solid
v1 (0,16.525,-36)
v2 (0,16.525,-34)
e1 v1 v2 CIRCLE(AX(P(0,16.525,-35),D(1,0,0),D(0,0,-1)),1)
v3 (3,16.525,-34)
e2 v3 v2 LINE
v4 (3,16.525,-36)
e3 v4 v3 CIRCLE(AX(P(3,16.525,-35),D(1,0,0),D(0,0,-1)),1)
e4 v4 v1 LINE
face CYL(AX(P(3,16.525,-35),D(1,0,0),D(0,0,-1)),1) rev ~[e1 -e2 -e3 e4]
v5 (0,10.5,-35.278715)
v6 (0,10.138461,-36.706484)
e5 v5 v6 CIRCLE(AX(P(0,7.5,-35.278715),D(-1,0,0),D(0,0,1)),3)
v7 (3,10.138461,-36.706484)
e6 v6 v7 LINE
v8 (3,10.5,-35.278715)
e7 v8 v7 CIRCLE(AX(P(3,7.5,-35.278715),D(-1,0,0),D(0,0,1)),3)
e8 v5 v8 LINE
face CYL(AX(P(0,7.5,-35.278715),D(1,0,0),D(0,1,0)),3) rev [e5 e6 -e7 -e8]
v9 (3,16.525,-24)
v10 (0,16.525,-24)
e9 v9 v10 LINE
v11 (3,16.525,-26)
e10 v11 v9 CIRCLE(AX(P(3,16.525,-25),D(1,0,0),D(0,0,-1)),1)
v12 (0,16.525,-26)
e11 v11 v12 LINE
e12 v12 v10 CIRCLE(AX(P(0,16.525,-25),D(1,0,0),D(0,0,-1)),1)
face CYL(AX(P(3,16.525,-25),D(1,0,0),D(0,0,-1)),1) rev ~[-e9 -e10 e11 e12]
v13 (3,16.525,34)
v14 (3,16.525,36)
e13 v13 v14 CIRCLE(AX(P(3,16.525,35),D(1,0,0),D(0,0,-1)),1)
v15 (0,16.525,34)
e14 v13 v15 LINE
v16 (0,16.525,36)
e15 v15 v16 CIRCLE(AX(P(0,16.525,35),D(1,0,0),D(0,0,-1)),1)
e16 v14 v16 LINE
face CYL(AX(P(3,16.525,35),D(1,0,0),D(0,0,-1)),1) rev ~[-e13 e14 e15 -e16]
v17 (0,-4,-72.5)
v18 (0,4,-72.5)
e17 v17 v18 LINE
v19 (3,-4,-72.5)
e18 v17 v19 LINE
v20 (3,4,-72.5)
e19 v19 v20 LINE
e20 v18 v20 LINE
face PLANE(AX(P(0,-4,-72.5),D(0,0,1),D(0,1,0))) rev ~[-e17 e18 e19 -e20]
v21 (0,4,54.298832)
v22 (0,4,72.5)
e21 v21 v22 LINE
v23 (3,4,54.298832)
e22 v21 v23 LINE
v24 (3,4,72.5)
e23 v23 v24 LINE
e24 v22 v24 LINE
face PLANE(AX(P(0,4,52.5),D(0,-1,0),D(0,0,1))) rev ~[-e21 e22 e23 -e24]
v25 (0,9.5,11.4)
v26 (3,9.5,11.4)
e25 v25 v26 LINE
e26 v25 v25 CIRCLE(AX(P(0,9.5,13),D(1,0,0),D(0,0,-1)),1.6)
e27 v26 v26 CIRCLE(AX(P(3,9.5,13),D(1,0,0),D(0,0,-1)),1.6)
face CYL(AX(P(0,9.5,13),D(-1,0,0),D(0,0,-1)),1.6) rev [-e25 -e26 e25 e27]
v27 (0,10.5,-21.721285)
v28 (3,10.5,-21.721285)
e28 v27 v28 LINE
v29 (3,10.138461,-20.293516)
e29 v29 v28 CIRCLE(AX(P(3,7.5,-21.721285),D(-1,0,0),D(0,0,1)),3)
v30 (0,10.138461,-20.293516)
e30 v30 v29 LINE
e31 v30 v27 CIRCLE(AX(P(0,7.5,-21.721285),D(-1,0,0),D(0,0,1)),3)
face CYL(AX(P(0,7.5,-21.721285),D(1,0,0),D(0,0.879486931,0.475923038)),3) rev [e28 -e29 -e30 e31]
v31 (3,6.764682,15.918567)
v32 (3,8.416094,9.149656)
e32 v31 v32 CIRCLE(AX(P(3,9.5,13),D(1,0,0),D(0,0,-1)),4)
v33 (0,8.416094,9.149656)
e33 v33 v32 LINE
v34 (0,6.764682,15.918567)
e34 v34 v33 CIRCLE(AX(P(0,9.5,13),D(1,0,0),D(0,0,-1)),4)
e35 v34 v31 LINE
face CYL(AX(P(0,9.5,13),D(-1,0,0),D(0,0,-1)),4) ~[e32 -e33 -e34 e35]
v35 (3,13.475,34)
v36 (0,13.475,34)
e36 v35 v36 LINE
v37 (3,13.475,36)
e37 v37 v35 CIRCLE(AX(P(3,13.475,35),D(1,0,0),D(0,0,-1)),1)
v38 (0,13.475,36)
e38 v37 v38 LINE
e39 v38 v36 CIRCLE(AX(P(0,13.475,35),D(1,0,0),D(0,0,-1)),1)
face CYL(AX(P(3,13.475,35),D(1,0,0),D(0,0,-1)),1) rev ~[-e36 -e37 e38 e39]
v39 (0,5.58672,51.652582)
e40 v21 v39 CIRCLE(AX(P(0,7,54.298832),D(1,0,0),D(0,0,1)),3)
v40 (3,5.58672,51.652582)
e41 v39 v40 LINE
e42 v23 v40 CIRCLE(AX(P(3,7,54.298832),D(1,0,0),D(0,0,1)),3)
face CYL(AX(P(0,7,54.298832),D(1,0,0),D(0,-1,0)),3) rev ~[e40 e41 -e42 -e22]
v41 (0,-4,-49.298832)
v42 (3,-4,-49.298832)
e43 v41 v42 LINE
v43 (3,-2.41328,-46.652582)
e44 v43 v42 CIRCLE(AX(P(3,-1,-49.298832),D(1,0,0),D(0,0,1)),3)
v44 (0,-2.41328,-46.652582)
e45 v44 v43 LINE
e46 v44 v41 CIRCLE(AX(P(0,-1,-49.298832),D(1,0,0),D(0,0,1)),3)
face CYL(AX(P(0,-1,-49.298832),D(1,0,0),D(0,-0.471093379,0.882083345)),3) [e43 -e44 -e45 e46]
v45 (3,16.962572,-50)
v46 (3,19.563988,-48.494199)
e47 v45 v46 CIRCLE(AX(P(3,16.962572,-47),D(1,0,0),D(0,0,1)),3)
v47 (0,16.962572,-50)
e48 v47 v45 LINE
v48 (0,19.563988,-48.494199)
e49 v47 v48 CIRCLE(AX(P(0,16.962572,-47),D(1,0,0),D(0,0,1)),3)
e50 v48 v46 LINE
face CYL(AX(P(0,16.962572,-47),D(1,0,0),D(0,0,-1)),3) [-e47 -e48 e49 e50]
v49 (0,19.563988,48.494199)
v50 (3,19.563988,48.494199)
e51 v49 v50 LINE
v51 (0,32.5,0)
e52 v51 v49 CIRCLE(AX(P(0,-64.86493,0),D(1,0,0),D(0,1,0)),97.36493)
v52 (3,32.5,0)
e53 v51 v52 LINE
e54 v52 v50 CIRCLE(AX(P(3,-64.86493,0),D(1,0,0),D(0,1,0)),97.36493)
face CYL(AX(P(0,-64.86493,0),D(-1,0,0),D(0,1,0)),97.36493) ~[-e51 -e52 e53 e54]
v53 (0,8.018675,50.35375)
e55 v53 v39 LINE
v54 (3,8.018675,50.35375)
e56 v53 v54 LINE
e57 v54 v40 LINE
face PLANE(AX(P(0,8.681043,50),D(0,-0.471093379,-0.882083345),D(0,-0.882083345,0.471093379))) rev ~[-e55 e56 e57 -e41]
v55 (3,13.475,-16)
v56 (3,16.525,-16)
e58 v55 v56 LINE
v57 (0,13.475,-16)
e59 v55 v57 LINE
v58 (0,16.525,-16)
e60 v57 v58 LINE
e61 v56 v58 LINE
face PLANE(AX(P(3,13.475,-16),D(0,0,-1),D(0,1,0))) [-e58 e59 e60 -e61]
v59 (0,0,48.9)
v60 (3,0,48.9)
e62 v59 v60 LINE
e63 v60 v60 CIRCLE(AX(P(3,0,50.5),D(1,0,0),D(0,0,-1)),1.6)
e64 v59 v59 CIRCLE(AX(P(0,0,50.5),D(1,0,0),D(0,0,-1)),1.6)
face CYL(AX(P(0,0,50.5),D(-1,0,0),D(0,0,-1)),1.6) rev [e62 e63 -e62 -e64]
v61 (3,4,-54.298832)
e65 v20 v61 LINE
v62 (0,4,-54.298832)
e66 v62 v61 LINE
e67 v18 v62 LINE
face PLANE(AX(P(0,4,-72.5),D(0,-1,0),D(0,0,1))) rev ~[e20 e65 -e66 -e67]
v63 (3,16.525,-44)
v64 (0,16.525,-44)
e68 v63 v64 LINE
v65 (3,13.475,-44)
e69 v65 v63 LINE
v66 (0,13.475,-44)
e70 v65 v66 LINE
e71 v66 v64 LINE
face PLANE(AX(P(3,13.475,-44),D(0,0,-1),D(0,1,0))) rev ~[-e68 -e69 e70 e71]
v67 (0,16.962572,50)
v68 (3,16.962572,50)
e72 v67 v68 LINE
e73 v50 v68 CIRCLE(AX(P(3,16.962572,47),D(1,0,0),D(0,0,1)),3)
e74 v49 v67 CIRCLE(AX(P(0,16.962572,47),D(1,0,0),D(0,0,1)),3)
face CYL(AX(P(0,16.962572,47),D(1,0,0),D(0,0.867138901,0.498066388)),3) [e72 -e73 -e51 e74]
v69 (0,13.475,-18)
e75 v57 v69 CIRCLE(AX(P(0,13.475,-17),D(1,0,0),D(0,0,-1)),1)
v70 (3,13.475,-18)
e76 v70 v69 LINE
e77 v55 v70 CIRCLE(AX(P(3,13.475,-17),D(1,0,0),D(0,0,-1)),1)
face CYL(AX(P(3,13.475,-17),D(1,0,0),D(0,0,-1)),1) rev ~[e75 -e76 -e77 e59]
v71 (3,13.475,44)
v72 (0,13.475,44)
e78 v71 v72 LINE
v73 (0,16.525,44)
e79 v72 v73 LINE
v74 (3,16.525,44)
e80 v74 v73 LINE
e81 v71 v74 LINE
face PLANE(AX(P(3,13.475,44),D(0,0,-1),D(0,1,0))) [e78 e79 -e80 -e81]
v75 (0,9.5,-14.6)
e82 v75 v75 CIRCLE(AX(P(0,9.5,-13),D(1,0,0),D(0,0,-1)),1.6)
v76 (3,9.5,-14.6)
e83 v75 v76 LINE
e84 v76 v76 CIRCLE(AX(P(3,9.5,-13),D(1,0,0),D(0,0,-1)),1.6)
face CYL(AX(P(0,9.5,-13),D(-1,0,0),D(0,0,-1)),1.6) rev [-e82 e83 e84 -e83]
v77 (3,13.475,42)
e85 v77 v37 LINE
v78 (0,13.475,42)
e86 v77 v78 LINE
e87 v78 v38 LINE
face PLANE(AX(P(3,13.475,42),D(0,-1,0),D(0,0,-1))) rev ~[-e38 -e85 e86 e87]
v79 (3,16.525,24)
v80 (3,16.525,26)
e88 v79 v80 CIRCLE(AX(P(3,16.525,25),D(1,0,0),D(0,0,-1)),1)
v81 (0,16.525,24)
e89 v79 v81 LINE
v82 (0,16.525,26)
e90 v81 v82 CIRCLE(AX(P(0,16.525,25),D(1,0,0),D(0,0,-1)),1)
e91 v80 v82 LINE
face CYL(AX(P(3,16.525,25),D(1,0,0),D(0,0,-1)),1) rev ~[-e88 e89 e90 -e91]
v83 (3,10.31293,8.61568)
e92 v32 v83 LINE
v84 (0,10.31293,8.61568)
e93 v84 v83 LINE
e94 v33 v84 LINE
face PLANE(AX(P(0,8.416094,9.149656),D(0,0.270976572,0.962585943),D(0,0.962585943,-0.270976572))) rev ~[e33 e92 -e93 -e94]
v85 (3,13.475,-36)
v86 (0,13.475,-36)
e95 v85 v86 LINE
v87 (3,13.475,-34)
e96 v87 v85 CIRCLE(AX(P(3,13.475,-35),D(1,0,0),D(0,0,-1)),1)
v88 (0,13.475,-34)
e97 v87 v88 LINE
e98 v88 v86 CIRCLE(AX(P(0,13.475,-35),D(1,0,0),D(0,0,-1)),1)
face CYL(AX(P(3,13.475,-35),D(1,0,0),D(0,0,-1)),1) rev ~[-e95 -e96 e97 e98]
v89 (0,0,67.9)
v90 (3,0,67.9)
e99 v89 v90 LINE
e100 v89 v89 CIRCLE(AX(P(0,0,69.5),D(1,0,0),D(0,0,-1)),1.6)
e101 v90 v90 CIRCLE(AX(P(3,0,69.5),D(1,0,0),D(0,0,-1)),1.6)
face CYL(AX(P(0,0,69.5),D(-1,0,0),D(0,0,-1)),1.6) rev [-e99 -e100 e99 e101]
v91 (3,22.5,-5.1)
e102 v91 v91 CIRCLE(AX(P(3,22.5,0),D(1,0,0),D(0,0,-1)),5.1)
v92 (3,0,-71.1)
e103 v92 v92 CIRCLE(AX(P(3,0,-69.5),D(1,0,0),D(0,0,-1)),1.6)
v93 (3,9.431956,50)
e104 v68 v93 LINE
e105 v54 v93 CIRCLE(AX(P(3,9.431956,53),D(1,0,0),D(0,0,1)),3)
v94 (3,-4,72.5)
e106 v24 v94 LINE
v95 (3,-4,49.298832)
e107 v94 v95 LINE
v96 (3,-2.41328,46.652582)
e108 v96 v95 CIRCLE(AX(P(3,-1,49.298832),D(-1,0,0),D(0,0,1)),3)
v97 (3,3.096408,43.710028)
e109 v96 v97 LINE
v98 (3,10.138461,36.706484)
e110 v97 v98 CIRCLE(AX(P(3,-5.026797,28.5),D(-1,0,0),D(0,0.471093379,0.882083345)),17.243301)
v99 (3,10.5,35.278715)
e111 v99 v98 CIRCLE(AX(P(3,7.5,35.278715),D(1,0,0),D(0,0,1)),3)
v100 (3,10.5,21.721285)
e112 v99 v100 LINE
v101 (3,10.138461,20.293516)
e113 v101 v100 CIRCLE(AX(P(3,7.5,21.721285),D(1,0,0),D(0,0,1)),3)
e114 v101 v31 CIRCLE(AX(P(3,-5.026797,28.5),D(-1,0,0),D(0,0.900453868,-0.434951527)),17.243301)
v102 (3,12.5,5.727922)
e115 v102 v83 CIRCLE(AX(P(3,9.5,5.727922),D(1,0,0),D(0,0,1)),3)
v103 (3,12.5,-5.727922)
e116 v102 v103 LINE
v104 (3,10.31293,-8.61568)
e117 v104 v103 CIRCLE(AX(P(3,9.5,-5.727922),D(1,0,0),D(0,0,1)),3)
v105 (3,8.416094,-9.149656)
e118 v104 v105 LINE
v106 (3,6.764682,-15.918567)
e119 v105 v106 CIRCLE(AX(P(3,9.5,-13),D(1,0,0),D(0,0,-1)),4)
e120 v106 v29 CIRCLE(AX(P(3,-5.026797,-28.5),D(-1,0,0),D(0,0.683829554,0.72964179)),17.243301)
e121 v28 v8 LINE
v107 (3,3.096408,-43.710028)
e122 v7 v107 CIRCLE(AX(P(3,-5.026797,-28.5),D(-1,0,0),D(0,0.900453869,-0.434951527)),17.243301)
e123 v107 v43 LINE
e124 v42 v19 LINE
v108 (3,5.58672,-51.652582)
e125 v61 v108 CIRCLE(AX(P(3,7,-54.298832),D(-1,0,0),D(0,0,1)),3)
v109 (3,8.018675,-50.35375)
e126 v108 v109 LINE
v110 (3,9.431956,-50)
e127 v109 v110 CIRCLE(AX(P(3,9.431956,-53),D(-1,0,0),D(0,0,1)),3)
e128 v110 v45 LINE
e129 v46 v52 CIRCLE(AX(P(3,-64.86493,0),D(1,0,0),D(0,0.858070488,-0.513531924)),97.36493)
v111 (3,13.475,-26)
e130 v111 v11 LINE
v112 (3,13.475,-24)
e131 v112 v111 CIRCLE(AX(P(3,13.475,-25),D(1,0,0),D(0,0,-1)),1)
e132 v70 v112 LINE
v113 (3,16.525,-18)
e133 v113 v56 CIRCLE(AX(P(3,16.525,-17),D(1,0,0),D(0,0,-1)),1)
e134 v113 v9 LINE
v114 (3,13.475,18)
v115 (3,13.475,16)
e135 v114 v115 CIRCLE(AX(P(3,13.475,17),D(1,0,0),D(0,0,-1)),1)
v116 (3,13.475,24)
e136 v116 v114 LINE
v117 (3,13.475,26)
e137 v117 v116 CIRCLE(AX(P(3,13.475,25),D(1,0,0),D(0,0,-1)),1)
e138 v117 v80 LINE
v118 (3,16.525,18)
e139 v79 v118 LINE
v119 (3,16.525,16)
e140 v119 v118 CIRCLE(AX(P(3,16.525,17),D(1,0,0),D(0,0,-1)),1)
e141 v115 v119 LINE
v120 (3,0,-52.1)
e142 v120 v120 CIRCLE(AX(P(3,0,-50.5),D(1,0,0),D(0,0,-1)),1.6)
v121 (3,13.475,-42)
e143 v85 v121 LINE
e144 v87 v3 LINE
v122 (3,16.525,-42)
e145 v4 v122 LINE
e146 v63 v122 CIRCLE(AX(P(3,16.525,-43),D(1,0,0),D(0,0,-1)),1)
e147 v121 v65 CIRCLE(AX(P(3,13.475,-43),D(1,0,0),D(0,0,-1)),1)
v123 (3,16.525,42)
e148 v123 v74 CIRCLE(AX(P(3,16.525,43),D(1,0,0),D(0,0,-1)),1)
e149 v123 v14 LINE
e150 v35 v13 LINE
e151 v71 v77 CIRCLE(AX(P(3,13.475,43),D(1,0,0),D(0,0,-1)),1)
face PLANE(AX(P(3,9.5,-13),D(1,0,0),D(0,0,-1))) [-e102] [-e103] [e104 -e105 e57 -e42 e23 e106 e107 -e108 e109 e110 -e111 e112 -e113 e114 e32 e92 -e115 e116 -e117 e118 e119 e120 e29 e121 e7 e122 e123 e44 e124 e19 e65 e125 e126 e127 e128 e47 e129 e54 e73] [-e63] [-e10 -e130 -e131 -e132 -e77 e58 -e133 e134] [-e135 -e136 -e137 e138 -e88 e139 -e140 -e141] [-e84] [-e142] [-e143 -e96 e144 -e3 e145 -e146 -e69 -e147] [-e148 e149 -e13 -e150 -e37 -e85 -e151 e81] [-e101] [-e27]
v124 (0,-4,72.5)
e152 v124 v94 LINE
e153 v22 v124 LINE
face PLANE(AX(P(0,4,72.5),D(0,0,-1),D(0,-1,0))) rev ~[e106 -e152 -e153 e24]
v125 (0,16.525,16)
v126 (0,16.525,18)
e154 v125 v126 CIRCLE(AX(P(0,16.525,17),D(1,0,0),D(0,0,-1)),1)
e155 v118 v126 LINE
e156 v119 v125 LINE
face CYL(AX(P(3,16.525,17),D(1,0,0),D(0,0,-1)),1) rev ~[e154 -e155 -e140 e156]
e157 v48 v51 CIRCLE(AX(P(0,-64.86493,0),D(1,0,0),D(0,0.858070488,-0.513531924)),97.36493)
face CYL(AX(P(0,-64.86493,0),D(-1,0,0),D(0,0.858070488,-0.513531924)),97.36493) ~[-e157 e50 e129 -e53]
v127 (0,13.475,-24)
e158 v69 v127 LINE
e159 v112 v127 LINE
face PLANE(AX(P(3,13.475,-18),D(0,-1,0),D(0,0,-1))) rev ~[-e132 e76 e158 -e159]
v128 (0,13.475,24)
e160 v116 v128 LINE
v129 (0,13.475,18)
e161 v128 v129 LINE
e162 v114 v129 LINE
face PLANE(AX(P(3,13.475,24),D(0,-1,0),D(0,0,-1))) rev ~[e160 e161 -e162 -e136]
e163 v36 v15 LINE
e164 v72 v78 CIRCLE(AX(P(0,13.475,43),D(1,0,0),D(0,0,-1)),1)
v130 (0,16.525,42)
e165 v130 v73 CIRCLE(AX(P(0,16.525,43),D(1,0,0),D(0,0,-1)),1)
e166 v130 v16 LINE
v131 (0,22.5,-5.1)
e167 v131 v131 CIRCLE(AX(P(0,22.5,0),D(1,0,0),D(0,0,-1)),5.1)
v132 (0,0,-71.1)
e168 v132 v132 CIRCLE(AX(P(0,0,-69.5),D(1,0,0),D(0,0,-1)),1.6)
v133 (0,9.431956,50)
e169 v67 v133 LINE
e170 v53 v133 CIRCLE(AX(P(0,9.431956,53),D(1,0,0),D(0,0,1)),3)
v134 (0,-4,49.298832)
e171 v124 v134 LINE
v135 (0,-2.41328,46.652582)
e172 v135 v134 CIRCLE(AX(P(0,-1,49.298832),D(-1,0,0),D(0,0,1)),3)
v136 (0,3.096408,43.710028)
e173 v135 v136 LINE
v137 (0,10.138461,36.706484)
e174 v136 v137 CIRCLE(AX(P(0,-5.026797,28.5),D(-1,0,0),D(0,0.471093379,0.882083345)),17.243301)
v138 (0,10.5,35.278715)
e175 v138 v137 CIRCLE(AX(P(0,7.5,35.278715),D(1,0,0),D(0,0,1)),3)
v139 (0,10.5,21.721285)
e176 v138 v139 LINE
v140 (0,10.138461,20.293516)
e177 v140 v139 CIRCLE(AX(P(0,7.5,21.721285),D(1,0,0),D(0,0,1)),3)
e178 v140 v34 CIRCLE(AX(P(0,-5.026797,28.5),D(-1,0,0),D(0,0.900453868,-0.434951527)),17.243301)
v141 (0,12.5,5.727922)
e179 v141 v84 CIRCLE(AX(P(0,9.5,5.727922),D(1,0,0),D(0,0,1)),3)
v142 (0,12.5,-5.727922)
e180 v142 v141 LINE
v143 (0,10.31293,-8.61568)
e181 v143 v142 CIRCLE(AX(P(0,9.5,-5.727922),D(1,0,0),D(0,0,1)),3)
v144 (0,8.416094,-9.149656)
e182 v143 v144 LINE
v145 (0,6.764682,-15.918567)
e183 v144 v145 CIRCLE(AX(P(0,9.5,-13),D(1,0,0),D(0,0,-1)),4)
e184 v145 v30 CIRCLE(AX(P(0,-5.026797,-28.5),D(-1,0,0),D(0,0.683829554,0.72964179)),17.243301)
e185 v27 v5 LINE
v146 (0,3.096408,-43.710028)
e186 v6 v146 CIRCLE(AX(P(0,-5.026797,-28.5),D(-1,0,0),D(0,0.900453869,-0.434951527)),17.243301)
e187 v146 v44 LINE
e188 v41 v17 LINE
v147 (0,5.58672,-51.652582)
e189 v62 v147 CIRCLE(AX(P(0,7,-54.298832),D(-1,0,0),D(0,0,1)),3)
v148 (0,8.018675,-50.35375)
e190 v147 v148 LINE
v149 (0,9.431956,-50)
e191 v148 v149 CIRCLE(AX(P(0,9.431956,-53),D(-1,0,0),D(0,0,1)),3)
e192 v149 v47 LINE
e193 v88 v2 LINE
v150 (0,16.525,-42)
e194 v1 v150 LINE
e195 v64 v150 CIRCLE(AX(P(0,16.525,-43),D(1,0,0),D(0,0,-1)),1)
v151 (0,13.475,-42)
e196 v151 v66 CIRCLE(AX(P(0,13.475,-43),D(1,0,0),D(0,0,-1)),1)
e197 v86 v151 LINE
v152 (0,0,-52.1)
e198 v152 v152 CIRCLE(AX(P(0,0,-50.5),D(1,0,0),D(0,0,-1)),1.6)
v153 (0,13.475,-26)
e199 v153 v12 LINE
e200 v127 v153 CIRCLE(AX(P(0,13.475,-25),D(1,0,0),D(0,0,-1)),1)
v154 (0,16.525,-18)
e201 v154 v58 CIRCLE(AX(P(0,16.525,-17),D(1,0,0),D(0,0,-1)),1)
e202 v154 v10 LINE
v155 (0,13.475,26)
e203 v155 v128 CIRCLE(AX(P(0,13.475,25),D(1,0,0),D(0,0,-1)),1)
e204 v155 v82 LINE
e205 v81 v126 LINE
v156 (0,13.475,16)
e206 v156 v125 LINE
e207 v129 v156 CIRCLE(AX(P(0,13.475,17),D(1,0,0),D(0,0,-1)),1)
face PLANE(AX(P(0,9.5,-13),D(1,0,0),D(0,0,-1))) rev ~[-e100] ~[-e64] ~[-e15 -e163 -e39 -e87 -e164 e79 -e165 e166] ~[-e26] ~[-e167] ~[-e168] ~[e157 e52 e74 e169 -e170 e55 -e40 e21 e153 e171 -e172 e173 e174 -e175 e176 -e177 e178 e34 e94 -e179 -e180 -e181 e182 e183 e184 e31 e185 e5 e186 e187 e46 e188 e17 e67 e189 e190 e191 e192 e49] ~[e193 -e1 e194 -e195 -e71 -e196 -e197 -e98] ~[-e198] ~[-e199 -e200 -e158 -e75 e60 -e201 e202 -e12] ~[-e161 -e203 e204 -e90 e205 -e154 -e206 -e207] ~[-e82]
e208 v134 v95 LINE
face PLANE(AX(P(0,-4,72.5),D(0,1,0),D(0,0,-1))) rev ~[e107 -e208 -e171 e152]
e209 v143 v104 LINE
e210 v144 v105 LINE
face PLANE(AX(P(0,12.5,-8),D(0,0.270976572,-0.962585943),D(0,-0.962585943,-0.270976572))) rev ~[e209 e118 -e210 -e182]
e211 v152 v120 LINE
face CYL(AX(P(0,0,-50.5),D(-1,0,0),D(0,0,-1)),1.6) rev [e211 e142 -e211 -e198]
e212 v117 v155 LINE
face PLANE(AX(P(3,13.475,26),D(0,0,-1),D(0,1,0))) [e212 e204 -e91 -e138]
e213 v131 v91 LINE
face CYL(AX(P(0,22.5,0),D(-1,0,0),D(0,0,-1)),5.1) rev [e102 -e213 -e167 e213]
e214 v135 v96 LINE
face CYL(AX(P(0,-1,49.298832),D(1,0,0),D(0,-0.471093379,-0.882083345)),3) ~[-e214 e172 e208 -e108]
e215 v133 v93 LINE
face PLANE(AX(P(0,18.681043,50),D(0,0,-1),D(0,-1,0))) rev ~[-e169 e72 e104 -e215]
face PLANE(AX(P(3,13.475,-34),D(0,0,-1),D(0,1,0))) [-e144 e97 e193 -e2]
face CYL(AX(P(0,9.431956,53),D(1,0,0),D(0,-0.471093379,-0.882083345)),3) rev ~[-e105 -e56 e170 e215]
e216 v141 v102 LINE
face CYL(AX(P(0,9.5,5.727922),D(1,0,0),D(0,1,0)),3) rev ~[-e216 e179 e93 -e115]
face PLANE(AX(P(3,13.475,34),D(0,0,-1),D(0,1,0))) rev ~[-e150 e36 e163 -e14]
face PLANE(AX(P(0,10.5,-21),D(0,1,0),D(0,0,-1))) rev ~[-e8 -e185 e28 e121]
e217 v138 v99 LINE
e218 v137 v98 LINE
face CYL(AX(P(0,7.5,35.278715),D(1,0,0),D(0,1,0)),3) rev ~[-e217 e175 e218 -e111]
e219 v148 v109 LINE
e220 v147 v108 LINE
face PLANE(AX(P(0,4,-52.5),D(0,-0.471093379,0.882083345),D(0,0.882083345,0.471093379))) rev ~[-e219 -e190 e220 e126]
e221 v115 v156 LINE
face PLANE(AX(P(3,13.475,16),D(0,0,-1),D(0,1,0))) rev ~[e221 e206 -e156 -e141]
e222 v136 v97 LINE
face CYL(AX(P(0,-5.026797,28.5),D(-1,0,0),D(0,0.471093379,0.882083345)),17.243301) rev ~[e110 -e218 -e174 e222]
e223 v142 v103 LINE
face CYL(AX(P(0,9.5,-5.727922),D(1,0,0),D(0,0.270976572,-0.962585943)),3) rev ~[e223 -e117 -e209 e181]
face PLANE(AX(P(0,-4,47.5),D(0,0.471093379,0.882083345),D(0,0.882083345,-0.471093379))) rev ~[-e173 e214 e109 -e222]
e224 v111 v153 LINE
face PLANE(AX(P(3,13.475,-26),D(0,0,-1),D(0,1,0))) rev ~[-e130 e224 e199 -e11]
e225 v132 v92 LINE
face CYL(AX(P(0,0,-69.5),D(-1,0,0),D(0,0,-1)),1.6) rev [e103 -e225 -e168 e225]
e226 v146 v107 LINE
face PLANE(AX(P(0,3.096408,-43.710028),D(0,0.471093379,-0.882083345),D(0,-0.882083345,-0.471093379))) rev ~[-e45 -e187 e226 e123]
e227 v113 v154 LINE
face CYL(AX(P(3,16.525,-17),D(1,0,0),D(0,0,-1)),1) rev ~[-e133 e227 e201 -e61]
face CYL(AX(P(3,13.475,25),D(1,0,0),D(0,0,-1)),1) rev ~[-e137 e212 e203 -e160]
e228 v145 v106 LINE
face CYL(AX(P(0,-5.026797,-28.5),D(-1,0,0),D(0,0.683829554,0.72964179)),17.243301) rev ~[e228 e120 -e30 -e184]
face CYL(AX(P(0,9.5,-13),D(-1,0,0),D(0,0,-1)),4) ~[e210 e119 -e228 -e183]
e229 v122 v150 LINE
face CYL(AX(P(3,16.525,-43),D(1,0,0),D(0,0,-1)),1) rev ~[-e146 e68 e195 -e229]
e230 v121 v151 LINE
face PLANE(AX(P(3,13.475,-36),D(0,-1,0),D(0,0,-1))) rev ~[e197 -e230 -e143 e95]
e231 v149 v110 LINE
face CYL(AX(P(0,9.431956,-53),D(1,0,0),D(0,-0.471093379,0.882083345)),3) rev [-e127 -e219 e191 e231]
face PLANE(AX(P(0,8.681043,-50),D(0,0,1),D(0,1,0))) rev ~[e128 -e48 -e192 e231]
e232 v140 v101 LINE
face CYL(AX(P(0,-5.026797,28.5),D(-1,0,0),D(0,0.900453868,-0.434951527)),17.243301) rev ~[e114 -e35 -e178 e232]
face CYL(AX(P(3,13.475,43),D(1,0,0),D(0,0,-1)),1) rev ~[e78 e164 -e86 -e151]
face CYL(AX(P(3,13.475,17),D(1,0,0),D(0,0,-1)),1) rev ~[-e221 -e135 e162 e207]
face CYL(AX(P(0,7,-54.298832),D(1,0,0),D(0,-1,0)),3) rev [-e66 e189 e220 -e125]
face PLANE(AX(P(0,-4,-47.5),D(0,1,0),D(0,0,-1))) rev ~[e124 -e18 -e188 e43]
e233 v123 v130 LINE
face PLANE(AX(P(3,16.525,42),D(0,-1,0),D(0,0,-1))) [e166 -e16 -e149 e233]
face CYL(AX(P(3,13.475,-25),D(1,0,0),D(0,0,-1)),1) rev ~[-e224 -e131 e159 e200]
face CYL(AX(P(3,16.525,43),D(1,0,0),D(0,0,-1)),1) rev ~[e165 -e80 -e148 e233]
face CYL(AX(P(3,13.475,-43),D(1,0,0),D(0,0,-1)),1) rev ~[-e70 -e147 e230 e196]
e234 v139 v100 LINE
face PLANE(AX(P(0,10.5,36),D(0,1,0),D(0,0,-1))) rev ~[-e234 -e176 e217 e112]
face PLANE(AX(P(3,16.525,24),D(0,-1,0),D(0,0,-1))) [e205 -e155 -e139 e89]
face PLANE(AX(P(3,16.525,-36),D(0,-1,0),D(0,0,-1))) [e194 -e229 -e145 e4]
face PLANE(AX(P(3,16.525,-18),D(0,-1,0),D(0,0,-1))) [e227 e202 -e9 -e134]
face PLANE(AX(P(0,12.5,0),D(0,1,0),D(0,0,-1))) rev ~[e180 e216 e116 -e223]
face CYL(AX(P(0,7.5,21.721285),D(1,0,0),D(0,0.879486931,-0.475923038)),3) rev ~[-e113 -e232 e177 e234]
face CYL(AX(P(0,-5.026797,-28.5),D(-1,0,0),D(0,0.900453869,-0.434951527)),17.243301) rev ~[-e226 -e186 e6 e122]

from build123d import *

# Parameters (mm, degrees)
SKETCH_2_R          = 1.6
SKETCH_2_R_2        = 10
SKETCH_2_R_3        = 5.1
SKETCH_2_R_4        = 4
EXTRUDE_1_DEPTH     = 3
SKETCH_3_R          = 1
SKETCH_3_W          = 10
SKETCH_3_H          = 3.05
CUT_EXTRUDE_1_DEPTH = 80.507861247
FILLET_1_R          = 3


with BuildPart() as part:
    # 草图2 → 凸台-拉伸1 (new body)
    # profile 1 of 5: a face of its own
    with BuildSketch(Plane(origin=(0, 0, 0), x_dir=(0, 0, -1), z_dir=(1, 0, 0))):
        with BuildLine():
            Line((-72.5, -4), (-47.5, -4))
            Line((-47.5, -4), (-43.710028433, 3.096407942))
            ThreePointArc((-43.710028433, 3.096407942), (-40.443183901, 7.410718134), (-36, 10.5))
            Line((-36, 10.5), (-21, 10.5))
            ThreePointArc((-21, 10.5), (-18.287060326, 8.866629069), (-15.918567159, 6.764681785))
            ThreePointArc((-15.918567159, 6.764681785), (-14.470668447, 13.219829878), (-9, 9.5))
            ThreePointArc((-9, 9.5), (-9.03759069, 8.952905441), (-9.149656228, 8.416093713))
            Line((-9.149656228, 8.416093713), (-8, 12.5))
            Line((-8, 12.5), (0, 12.5))
            ThreePointArc((0, 12.5), (-10, 22.500000014), (2.8e-08, 32.5))
            ThreePointArc((2.8e-08, 32.5), (-25.937249131, 28.981693295), (-50, 18.681042995))
            Line((-50, 18.681042995), (-50, 8.681042995))
            Line((-50, 8.681042995), (-52.5, 4))
            Line((-52.5, 4), (-72.5, 4))
            Line((-72.5, 4), (-72.5, -4))
        make_face()
        with Locations((-69.5, 0)):
            Circle(SKETCH_2_R, mode=Mode.SUBTRACT)
        with Locations((-50.5, 0)):
            Circle(SKETCH_2_R, mode=Mode.SUBTRACT)
    # profile 2 of 5: a face of its own
    with BuildSketch(Plane(origin=(0, 0, 0), x_dir=(0, 0, -1), z_dir=(1, 0, 0))):
        with BuildLine():
            ThreePointArc((50, 18.681042995), (25.937249158, 28.981693288), (2.8e-08, 32.5))
            ThreePointArc((2.8e-08, 32.5), (7.071067822, 29.571067802), (10, 22.5))
            ThreePointArc((10, 22.5), (7.071067812, 15.428932188), (0, 12.5))
            Line((0, 12.5), (8, 12.5))
            Line((8, 12.5), (9.149656228, 8.416093713))
            ThreePointArc((9.149656228, 8.416093713), (12.452905441, 13.46240931), (17, 9.5))
            ThreePointArc((17, 9.5), (16.719829878, 8.029331553), (15.918567159, 6.764681785))
            ThreePointArc((15.918567159, 6.764681785), (18.287060326, 8.866629069), (21, 10.5))
            Line((21, 10.5), (36, 10.5))
            ThreePointArc((36, 10.5), (40.443183901, 7.410718134), (43.710028433, 3.096407942))
            Line((43.710028433, 3.096407942), (47.5, -4))
            Line((47.5, -4), (72.5, -4))
            Line((72.5, -4), (72.5, 4))
            Line((72.5, 4), (52.5, 4))
            Line((52.5, 4), (50, 8.681042995))
            Line((50, 8.681042995), (50, 18.681042995))
        make_face()
        with Locations((50.5, 0)):
            Circle(SKETCH_2_R, mode=Mode.SUBTRACT)
        with Locations((69.5, 0)):
            Circle(SKETCH_2_R, mode=Mode.SUBTRACT)
    # profile 3 of 5: a face of its own
    with BuildSketch(Plane(origin=(0, 0, 0), x_dir=(0, 0, -1), z_dir=(1, 0, 0))):
        with Locations((0, 22.5)):
            Circle(SKETCH_2_R_2)
        with Locations((0, 22.5)):
            Circle(SKETCH_2_R_3, mode=Mode.SUBTRACT)
    # profile 4 of 5: a face of its own
    with BuildSketch(Plane(origin=(0, 0, 0), x_dir=(0, 0, -1), z_dir=(1, 0, 0))):
        with Locations((-13, 9.5)):
            Circle(SKETCH_2_R_4)
        with Locations((-13, 9.5)):
            Circle(SKETCH_2_R, mode=Mode.SUBTRACT)
    # profile 5 of 5: a face of its own
    with BuildSketch(Plane(origin=(0, 0, 0), x_dir=(0, 0, -1), z_dir=(1, 0, 0))):
        with Locations((13, 9.5)):
            Circle(SKETCH_2_R_4)
        with Locations((13, 9.5)):
            Circle(SKETCH_2_R, mode=Mode.SUBTRACT)
    extrude(amount=EXTRUDE_1_DEPTH)

    # 草图3 → 切除-拉伸1 (cut, through all)
    with BuildSketch(Plane(origin=(3, 0, 0), x_dir=(0, 0, -1), z_dir=(1, 0, 0))):
        with Locations((-43, 16.525)):
            Circle(SKETCH_3_R)
        with Locations((-43, 13.475)):
            Circle(SKETCH_3_R)
        with Locations((-35, 16.525)):
            Circle(SKETCH_3_R)
        with Locations((-35, 13.475)):
            Circle(SKETCH_3_R)
        with Locations((-25, 16.525)):
            Circle(SKETCH_3_R)
        with Locations((-17, 16.525)):
            Circle(SKETCH_3_R)
        with Locations((-17, 13.475)):
            Circle(SKETCH_3_R)
        with Locations((-25, 13.475)):
            Circle(SKETCH_3_R)
        with Locations((25, 13.475)):
            Circle(SKETCH_3_R)
        with Locations((17, 13.475)):
            Circle(SKETCH_3_R)
        with Locations((17, 16.525)):
            Circle(SKETCH_3_R)
        with Locations((25, 16.525)):
            Circle(SKETCH_3_R)
        with Locations((35, 13.475)):
            Circle(SKETCH_3_R)
        with Locations((35, 16.525)):
            Circle(SKETCH_3_R)
        with Locations((43, 13.475)):
            Circle(SKETCH_3_R)
        with Locations((43, 16.525)):
            Circle(SKETCH_3_R)
        with Locations((-21, 15)):
            Rectangle(SKETCH_3_W, SKETCH_3_H)
        with Locations((-39, 15)):
            Rectangle(SKETCH_3_W, SKETCH_3_H)
        with Locations((21, 15)):
            Rectangle(SKETCH_3_W, SKETCH_3_H)
        with Locations((39, 15)):
            Rectangle(SKETCH_3_W, SKETCH_3_H)
    extrude(amount=-CUT_EXTRUDE_1_DEPTH, mode=Mode.SUBTRACT)

    # 圆角1
    fillet_1_edges = [part.edges().sort_by_distance(p)[0] for p in [
        (1.5, 10.5, 36),
        (1.5, -4, 47.5),
        (1.5, 4, 52.5),
        (1.5, 8.681042995, 50),
        (1.5, 18.681042995, 50),
        (1.5, 18.681042995, -50),
        (1.5, 8.681042995, -50),
        (1.5, 4, -52.5),
        (1.5, -4, -47.5),
        (1.5, 10.5, -36),
        (1.5, 10.5, -21),
        (1.5, 12.5, -8),
        (1.5, 12.5, 8),
        (1.5, 10.5, 21),
    ]]
    fillet(fillet_1_edges, radius=FILLET_1_R)


solid = part.part
